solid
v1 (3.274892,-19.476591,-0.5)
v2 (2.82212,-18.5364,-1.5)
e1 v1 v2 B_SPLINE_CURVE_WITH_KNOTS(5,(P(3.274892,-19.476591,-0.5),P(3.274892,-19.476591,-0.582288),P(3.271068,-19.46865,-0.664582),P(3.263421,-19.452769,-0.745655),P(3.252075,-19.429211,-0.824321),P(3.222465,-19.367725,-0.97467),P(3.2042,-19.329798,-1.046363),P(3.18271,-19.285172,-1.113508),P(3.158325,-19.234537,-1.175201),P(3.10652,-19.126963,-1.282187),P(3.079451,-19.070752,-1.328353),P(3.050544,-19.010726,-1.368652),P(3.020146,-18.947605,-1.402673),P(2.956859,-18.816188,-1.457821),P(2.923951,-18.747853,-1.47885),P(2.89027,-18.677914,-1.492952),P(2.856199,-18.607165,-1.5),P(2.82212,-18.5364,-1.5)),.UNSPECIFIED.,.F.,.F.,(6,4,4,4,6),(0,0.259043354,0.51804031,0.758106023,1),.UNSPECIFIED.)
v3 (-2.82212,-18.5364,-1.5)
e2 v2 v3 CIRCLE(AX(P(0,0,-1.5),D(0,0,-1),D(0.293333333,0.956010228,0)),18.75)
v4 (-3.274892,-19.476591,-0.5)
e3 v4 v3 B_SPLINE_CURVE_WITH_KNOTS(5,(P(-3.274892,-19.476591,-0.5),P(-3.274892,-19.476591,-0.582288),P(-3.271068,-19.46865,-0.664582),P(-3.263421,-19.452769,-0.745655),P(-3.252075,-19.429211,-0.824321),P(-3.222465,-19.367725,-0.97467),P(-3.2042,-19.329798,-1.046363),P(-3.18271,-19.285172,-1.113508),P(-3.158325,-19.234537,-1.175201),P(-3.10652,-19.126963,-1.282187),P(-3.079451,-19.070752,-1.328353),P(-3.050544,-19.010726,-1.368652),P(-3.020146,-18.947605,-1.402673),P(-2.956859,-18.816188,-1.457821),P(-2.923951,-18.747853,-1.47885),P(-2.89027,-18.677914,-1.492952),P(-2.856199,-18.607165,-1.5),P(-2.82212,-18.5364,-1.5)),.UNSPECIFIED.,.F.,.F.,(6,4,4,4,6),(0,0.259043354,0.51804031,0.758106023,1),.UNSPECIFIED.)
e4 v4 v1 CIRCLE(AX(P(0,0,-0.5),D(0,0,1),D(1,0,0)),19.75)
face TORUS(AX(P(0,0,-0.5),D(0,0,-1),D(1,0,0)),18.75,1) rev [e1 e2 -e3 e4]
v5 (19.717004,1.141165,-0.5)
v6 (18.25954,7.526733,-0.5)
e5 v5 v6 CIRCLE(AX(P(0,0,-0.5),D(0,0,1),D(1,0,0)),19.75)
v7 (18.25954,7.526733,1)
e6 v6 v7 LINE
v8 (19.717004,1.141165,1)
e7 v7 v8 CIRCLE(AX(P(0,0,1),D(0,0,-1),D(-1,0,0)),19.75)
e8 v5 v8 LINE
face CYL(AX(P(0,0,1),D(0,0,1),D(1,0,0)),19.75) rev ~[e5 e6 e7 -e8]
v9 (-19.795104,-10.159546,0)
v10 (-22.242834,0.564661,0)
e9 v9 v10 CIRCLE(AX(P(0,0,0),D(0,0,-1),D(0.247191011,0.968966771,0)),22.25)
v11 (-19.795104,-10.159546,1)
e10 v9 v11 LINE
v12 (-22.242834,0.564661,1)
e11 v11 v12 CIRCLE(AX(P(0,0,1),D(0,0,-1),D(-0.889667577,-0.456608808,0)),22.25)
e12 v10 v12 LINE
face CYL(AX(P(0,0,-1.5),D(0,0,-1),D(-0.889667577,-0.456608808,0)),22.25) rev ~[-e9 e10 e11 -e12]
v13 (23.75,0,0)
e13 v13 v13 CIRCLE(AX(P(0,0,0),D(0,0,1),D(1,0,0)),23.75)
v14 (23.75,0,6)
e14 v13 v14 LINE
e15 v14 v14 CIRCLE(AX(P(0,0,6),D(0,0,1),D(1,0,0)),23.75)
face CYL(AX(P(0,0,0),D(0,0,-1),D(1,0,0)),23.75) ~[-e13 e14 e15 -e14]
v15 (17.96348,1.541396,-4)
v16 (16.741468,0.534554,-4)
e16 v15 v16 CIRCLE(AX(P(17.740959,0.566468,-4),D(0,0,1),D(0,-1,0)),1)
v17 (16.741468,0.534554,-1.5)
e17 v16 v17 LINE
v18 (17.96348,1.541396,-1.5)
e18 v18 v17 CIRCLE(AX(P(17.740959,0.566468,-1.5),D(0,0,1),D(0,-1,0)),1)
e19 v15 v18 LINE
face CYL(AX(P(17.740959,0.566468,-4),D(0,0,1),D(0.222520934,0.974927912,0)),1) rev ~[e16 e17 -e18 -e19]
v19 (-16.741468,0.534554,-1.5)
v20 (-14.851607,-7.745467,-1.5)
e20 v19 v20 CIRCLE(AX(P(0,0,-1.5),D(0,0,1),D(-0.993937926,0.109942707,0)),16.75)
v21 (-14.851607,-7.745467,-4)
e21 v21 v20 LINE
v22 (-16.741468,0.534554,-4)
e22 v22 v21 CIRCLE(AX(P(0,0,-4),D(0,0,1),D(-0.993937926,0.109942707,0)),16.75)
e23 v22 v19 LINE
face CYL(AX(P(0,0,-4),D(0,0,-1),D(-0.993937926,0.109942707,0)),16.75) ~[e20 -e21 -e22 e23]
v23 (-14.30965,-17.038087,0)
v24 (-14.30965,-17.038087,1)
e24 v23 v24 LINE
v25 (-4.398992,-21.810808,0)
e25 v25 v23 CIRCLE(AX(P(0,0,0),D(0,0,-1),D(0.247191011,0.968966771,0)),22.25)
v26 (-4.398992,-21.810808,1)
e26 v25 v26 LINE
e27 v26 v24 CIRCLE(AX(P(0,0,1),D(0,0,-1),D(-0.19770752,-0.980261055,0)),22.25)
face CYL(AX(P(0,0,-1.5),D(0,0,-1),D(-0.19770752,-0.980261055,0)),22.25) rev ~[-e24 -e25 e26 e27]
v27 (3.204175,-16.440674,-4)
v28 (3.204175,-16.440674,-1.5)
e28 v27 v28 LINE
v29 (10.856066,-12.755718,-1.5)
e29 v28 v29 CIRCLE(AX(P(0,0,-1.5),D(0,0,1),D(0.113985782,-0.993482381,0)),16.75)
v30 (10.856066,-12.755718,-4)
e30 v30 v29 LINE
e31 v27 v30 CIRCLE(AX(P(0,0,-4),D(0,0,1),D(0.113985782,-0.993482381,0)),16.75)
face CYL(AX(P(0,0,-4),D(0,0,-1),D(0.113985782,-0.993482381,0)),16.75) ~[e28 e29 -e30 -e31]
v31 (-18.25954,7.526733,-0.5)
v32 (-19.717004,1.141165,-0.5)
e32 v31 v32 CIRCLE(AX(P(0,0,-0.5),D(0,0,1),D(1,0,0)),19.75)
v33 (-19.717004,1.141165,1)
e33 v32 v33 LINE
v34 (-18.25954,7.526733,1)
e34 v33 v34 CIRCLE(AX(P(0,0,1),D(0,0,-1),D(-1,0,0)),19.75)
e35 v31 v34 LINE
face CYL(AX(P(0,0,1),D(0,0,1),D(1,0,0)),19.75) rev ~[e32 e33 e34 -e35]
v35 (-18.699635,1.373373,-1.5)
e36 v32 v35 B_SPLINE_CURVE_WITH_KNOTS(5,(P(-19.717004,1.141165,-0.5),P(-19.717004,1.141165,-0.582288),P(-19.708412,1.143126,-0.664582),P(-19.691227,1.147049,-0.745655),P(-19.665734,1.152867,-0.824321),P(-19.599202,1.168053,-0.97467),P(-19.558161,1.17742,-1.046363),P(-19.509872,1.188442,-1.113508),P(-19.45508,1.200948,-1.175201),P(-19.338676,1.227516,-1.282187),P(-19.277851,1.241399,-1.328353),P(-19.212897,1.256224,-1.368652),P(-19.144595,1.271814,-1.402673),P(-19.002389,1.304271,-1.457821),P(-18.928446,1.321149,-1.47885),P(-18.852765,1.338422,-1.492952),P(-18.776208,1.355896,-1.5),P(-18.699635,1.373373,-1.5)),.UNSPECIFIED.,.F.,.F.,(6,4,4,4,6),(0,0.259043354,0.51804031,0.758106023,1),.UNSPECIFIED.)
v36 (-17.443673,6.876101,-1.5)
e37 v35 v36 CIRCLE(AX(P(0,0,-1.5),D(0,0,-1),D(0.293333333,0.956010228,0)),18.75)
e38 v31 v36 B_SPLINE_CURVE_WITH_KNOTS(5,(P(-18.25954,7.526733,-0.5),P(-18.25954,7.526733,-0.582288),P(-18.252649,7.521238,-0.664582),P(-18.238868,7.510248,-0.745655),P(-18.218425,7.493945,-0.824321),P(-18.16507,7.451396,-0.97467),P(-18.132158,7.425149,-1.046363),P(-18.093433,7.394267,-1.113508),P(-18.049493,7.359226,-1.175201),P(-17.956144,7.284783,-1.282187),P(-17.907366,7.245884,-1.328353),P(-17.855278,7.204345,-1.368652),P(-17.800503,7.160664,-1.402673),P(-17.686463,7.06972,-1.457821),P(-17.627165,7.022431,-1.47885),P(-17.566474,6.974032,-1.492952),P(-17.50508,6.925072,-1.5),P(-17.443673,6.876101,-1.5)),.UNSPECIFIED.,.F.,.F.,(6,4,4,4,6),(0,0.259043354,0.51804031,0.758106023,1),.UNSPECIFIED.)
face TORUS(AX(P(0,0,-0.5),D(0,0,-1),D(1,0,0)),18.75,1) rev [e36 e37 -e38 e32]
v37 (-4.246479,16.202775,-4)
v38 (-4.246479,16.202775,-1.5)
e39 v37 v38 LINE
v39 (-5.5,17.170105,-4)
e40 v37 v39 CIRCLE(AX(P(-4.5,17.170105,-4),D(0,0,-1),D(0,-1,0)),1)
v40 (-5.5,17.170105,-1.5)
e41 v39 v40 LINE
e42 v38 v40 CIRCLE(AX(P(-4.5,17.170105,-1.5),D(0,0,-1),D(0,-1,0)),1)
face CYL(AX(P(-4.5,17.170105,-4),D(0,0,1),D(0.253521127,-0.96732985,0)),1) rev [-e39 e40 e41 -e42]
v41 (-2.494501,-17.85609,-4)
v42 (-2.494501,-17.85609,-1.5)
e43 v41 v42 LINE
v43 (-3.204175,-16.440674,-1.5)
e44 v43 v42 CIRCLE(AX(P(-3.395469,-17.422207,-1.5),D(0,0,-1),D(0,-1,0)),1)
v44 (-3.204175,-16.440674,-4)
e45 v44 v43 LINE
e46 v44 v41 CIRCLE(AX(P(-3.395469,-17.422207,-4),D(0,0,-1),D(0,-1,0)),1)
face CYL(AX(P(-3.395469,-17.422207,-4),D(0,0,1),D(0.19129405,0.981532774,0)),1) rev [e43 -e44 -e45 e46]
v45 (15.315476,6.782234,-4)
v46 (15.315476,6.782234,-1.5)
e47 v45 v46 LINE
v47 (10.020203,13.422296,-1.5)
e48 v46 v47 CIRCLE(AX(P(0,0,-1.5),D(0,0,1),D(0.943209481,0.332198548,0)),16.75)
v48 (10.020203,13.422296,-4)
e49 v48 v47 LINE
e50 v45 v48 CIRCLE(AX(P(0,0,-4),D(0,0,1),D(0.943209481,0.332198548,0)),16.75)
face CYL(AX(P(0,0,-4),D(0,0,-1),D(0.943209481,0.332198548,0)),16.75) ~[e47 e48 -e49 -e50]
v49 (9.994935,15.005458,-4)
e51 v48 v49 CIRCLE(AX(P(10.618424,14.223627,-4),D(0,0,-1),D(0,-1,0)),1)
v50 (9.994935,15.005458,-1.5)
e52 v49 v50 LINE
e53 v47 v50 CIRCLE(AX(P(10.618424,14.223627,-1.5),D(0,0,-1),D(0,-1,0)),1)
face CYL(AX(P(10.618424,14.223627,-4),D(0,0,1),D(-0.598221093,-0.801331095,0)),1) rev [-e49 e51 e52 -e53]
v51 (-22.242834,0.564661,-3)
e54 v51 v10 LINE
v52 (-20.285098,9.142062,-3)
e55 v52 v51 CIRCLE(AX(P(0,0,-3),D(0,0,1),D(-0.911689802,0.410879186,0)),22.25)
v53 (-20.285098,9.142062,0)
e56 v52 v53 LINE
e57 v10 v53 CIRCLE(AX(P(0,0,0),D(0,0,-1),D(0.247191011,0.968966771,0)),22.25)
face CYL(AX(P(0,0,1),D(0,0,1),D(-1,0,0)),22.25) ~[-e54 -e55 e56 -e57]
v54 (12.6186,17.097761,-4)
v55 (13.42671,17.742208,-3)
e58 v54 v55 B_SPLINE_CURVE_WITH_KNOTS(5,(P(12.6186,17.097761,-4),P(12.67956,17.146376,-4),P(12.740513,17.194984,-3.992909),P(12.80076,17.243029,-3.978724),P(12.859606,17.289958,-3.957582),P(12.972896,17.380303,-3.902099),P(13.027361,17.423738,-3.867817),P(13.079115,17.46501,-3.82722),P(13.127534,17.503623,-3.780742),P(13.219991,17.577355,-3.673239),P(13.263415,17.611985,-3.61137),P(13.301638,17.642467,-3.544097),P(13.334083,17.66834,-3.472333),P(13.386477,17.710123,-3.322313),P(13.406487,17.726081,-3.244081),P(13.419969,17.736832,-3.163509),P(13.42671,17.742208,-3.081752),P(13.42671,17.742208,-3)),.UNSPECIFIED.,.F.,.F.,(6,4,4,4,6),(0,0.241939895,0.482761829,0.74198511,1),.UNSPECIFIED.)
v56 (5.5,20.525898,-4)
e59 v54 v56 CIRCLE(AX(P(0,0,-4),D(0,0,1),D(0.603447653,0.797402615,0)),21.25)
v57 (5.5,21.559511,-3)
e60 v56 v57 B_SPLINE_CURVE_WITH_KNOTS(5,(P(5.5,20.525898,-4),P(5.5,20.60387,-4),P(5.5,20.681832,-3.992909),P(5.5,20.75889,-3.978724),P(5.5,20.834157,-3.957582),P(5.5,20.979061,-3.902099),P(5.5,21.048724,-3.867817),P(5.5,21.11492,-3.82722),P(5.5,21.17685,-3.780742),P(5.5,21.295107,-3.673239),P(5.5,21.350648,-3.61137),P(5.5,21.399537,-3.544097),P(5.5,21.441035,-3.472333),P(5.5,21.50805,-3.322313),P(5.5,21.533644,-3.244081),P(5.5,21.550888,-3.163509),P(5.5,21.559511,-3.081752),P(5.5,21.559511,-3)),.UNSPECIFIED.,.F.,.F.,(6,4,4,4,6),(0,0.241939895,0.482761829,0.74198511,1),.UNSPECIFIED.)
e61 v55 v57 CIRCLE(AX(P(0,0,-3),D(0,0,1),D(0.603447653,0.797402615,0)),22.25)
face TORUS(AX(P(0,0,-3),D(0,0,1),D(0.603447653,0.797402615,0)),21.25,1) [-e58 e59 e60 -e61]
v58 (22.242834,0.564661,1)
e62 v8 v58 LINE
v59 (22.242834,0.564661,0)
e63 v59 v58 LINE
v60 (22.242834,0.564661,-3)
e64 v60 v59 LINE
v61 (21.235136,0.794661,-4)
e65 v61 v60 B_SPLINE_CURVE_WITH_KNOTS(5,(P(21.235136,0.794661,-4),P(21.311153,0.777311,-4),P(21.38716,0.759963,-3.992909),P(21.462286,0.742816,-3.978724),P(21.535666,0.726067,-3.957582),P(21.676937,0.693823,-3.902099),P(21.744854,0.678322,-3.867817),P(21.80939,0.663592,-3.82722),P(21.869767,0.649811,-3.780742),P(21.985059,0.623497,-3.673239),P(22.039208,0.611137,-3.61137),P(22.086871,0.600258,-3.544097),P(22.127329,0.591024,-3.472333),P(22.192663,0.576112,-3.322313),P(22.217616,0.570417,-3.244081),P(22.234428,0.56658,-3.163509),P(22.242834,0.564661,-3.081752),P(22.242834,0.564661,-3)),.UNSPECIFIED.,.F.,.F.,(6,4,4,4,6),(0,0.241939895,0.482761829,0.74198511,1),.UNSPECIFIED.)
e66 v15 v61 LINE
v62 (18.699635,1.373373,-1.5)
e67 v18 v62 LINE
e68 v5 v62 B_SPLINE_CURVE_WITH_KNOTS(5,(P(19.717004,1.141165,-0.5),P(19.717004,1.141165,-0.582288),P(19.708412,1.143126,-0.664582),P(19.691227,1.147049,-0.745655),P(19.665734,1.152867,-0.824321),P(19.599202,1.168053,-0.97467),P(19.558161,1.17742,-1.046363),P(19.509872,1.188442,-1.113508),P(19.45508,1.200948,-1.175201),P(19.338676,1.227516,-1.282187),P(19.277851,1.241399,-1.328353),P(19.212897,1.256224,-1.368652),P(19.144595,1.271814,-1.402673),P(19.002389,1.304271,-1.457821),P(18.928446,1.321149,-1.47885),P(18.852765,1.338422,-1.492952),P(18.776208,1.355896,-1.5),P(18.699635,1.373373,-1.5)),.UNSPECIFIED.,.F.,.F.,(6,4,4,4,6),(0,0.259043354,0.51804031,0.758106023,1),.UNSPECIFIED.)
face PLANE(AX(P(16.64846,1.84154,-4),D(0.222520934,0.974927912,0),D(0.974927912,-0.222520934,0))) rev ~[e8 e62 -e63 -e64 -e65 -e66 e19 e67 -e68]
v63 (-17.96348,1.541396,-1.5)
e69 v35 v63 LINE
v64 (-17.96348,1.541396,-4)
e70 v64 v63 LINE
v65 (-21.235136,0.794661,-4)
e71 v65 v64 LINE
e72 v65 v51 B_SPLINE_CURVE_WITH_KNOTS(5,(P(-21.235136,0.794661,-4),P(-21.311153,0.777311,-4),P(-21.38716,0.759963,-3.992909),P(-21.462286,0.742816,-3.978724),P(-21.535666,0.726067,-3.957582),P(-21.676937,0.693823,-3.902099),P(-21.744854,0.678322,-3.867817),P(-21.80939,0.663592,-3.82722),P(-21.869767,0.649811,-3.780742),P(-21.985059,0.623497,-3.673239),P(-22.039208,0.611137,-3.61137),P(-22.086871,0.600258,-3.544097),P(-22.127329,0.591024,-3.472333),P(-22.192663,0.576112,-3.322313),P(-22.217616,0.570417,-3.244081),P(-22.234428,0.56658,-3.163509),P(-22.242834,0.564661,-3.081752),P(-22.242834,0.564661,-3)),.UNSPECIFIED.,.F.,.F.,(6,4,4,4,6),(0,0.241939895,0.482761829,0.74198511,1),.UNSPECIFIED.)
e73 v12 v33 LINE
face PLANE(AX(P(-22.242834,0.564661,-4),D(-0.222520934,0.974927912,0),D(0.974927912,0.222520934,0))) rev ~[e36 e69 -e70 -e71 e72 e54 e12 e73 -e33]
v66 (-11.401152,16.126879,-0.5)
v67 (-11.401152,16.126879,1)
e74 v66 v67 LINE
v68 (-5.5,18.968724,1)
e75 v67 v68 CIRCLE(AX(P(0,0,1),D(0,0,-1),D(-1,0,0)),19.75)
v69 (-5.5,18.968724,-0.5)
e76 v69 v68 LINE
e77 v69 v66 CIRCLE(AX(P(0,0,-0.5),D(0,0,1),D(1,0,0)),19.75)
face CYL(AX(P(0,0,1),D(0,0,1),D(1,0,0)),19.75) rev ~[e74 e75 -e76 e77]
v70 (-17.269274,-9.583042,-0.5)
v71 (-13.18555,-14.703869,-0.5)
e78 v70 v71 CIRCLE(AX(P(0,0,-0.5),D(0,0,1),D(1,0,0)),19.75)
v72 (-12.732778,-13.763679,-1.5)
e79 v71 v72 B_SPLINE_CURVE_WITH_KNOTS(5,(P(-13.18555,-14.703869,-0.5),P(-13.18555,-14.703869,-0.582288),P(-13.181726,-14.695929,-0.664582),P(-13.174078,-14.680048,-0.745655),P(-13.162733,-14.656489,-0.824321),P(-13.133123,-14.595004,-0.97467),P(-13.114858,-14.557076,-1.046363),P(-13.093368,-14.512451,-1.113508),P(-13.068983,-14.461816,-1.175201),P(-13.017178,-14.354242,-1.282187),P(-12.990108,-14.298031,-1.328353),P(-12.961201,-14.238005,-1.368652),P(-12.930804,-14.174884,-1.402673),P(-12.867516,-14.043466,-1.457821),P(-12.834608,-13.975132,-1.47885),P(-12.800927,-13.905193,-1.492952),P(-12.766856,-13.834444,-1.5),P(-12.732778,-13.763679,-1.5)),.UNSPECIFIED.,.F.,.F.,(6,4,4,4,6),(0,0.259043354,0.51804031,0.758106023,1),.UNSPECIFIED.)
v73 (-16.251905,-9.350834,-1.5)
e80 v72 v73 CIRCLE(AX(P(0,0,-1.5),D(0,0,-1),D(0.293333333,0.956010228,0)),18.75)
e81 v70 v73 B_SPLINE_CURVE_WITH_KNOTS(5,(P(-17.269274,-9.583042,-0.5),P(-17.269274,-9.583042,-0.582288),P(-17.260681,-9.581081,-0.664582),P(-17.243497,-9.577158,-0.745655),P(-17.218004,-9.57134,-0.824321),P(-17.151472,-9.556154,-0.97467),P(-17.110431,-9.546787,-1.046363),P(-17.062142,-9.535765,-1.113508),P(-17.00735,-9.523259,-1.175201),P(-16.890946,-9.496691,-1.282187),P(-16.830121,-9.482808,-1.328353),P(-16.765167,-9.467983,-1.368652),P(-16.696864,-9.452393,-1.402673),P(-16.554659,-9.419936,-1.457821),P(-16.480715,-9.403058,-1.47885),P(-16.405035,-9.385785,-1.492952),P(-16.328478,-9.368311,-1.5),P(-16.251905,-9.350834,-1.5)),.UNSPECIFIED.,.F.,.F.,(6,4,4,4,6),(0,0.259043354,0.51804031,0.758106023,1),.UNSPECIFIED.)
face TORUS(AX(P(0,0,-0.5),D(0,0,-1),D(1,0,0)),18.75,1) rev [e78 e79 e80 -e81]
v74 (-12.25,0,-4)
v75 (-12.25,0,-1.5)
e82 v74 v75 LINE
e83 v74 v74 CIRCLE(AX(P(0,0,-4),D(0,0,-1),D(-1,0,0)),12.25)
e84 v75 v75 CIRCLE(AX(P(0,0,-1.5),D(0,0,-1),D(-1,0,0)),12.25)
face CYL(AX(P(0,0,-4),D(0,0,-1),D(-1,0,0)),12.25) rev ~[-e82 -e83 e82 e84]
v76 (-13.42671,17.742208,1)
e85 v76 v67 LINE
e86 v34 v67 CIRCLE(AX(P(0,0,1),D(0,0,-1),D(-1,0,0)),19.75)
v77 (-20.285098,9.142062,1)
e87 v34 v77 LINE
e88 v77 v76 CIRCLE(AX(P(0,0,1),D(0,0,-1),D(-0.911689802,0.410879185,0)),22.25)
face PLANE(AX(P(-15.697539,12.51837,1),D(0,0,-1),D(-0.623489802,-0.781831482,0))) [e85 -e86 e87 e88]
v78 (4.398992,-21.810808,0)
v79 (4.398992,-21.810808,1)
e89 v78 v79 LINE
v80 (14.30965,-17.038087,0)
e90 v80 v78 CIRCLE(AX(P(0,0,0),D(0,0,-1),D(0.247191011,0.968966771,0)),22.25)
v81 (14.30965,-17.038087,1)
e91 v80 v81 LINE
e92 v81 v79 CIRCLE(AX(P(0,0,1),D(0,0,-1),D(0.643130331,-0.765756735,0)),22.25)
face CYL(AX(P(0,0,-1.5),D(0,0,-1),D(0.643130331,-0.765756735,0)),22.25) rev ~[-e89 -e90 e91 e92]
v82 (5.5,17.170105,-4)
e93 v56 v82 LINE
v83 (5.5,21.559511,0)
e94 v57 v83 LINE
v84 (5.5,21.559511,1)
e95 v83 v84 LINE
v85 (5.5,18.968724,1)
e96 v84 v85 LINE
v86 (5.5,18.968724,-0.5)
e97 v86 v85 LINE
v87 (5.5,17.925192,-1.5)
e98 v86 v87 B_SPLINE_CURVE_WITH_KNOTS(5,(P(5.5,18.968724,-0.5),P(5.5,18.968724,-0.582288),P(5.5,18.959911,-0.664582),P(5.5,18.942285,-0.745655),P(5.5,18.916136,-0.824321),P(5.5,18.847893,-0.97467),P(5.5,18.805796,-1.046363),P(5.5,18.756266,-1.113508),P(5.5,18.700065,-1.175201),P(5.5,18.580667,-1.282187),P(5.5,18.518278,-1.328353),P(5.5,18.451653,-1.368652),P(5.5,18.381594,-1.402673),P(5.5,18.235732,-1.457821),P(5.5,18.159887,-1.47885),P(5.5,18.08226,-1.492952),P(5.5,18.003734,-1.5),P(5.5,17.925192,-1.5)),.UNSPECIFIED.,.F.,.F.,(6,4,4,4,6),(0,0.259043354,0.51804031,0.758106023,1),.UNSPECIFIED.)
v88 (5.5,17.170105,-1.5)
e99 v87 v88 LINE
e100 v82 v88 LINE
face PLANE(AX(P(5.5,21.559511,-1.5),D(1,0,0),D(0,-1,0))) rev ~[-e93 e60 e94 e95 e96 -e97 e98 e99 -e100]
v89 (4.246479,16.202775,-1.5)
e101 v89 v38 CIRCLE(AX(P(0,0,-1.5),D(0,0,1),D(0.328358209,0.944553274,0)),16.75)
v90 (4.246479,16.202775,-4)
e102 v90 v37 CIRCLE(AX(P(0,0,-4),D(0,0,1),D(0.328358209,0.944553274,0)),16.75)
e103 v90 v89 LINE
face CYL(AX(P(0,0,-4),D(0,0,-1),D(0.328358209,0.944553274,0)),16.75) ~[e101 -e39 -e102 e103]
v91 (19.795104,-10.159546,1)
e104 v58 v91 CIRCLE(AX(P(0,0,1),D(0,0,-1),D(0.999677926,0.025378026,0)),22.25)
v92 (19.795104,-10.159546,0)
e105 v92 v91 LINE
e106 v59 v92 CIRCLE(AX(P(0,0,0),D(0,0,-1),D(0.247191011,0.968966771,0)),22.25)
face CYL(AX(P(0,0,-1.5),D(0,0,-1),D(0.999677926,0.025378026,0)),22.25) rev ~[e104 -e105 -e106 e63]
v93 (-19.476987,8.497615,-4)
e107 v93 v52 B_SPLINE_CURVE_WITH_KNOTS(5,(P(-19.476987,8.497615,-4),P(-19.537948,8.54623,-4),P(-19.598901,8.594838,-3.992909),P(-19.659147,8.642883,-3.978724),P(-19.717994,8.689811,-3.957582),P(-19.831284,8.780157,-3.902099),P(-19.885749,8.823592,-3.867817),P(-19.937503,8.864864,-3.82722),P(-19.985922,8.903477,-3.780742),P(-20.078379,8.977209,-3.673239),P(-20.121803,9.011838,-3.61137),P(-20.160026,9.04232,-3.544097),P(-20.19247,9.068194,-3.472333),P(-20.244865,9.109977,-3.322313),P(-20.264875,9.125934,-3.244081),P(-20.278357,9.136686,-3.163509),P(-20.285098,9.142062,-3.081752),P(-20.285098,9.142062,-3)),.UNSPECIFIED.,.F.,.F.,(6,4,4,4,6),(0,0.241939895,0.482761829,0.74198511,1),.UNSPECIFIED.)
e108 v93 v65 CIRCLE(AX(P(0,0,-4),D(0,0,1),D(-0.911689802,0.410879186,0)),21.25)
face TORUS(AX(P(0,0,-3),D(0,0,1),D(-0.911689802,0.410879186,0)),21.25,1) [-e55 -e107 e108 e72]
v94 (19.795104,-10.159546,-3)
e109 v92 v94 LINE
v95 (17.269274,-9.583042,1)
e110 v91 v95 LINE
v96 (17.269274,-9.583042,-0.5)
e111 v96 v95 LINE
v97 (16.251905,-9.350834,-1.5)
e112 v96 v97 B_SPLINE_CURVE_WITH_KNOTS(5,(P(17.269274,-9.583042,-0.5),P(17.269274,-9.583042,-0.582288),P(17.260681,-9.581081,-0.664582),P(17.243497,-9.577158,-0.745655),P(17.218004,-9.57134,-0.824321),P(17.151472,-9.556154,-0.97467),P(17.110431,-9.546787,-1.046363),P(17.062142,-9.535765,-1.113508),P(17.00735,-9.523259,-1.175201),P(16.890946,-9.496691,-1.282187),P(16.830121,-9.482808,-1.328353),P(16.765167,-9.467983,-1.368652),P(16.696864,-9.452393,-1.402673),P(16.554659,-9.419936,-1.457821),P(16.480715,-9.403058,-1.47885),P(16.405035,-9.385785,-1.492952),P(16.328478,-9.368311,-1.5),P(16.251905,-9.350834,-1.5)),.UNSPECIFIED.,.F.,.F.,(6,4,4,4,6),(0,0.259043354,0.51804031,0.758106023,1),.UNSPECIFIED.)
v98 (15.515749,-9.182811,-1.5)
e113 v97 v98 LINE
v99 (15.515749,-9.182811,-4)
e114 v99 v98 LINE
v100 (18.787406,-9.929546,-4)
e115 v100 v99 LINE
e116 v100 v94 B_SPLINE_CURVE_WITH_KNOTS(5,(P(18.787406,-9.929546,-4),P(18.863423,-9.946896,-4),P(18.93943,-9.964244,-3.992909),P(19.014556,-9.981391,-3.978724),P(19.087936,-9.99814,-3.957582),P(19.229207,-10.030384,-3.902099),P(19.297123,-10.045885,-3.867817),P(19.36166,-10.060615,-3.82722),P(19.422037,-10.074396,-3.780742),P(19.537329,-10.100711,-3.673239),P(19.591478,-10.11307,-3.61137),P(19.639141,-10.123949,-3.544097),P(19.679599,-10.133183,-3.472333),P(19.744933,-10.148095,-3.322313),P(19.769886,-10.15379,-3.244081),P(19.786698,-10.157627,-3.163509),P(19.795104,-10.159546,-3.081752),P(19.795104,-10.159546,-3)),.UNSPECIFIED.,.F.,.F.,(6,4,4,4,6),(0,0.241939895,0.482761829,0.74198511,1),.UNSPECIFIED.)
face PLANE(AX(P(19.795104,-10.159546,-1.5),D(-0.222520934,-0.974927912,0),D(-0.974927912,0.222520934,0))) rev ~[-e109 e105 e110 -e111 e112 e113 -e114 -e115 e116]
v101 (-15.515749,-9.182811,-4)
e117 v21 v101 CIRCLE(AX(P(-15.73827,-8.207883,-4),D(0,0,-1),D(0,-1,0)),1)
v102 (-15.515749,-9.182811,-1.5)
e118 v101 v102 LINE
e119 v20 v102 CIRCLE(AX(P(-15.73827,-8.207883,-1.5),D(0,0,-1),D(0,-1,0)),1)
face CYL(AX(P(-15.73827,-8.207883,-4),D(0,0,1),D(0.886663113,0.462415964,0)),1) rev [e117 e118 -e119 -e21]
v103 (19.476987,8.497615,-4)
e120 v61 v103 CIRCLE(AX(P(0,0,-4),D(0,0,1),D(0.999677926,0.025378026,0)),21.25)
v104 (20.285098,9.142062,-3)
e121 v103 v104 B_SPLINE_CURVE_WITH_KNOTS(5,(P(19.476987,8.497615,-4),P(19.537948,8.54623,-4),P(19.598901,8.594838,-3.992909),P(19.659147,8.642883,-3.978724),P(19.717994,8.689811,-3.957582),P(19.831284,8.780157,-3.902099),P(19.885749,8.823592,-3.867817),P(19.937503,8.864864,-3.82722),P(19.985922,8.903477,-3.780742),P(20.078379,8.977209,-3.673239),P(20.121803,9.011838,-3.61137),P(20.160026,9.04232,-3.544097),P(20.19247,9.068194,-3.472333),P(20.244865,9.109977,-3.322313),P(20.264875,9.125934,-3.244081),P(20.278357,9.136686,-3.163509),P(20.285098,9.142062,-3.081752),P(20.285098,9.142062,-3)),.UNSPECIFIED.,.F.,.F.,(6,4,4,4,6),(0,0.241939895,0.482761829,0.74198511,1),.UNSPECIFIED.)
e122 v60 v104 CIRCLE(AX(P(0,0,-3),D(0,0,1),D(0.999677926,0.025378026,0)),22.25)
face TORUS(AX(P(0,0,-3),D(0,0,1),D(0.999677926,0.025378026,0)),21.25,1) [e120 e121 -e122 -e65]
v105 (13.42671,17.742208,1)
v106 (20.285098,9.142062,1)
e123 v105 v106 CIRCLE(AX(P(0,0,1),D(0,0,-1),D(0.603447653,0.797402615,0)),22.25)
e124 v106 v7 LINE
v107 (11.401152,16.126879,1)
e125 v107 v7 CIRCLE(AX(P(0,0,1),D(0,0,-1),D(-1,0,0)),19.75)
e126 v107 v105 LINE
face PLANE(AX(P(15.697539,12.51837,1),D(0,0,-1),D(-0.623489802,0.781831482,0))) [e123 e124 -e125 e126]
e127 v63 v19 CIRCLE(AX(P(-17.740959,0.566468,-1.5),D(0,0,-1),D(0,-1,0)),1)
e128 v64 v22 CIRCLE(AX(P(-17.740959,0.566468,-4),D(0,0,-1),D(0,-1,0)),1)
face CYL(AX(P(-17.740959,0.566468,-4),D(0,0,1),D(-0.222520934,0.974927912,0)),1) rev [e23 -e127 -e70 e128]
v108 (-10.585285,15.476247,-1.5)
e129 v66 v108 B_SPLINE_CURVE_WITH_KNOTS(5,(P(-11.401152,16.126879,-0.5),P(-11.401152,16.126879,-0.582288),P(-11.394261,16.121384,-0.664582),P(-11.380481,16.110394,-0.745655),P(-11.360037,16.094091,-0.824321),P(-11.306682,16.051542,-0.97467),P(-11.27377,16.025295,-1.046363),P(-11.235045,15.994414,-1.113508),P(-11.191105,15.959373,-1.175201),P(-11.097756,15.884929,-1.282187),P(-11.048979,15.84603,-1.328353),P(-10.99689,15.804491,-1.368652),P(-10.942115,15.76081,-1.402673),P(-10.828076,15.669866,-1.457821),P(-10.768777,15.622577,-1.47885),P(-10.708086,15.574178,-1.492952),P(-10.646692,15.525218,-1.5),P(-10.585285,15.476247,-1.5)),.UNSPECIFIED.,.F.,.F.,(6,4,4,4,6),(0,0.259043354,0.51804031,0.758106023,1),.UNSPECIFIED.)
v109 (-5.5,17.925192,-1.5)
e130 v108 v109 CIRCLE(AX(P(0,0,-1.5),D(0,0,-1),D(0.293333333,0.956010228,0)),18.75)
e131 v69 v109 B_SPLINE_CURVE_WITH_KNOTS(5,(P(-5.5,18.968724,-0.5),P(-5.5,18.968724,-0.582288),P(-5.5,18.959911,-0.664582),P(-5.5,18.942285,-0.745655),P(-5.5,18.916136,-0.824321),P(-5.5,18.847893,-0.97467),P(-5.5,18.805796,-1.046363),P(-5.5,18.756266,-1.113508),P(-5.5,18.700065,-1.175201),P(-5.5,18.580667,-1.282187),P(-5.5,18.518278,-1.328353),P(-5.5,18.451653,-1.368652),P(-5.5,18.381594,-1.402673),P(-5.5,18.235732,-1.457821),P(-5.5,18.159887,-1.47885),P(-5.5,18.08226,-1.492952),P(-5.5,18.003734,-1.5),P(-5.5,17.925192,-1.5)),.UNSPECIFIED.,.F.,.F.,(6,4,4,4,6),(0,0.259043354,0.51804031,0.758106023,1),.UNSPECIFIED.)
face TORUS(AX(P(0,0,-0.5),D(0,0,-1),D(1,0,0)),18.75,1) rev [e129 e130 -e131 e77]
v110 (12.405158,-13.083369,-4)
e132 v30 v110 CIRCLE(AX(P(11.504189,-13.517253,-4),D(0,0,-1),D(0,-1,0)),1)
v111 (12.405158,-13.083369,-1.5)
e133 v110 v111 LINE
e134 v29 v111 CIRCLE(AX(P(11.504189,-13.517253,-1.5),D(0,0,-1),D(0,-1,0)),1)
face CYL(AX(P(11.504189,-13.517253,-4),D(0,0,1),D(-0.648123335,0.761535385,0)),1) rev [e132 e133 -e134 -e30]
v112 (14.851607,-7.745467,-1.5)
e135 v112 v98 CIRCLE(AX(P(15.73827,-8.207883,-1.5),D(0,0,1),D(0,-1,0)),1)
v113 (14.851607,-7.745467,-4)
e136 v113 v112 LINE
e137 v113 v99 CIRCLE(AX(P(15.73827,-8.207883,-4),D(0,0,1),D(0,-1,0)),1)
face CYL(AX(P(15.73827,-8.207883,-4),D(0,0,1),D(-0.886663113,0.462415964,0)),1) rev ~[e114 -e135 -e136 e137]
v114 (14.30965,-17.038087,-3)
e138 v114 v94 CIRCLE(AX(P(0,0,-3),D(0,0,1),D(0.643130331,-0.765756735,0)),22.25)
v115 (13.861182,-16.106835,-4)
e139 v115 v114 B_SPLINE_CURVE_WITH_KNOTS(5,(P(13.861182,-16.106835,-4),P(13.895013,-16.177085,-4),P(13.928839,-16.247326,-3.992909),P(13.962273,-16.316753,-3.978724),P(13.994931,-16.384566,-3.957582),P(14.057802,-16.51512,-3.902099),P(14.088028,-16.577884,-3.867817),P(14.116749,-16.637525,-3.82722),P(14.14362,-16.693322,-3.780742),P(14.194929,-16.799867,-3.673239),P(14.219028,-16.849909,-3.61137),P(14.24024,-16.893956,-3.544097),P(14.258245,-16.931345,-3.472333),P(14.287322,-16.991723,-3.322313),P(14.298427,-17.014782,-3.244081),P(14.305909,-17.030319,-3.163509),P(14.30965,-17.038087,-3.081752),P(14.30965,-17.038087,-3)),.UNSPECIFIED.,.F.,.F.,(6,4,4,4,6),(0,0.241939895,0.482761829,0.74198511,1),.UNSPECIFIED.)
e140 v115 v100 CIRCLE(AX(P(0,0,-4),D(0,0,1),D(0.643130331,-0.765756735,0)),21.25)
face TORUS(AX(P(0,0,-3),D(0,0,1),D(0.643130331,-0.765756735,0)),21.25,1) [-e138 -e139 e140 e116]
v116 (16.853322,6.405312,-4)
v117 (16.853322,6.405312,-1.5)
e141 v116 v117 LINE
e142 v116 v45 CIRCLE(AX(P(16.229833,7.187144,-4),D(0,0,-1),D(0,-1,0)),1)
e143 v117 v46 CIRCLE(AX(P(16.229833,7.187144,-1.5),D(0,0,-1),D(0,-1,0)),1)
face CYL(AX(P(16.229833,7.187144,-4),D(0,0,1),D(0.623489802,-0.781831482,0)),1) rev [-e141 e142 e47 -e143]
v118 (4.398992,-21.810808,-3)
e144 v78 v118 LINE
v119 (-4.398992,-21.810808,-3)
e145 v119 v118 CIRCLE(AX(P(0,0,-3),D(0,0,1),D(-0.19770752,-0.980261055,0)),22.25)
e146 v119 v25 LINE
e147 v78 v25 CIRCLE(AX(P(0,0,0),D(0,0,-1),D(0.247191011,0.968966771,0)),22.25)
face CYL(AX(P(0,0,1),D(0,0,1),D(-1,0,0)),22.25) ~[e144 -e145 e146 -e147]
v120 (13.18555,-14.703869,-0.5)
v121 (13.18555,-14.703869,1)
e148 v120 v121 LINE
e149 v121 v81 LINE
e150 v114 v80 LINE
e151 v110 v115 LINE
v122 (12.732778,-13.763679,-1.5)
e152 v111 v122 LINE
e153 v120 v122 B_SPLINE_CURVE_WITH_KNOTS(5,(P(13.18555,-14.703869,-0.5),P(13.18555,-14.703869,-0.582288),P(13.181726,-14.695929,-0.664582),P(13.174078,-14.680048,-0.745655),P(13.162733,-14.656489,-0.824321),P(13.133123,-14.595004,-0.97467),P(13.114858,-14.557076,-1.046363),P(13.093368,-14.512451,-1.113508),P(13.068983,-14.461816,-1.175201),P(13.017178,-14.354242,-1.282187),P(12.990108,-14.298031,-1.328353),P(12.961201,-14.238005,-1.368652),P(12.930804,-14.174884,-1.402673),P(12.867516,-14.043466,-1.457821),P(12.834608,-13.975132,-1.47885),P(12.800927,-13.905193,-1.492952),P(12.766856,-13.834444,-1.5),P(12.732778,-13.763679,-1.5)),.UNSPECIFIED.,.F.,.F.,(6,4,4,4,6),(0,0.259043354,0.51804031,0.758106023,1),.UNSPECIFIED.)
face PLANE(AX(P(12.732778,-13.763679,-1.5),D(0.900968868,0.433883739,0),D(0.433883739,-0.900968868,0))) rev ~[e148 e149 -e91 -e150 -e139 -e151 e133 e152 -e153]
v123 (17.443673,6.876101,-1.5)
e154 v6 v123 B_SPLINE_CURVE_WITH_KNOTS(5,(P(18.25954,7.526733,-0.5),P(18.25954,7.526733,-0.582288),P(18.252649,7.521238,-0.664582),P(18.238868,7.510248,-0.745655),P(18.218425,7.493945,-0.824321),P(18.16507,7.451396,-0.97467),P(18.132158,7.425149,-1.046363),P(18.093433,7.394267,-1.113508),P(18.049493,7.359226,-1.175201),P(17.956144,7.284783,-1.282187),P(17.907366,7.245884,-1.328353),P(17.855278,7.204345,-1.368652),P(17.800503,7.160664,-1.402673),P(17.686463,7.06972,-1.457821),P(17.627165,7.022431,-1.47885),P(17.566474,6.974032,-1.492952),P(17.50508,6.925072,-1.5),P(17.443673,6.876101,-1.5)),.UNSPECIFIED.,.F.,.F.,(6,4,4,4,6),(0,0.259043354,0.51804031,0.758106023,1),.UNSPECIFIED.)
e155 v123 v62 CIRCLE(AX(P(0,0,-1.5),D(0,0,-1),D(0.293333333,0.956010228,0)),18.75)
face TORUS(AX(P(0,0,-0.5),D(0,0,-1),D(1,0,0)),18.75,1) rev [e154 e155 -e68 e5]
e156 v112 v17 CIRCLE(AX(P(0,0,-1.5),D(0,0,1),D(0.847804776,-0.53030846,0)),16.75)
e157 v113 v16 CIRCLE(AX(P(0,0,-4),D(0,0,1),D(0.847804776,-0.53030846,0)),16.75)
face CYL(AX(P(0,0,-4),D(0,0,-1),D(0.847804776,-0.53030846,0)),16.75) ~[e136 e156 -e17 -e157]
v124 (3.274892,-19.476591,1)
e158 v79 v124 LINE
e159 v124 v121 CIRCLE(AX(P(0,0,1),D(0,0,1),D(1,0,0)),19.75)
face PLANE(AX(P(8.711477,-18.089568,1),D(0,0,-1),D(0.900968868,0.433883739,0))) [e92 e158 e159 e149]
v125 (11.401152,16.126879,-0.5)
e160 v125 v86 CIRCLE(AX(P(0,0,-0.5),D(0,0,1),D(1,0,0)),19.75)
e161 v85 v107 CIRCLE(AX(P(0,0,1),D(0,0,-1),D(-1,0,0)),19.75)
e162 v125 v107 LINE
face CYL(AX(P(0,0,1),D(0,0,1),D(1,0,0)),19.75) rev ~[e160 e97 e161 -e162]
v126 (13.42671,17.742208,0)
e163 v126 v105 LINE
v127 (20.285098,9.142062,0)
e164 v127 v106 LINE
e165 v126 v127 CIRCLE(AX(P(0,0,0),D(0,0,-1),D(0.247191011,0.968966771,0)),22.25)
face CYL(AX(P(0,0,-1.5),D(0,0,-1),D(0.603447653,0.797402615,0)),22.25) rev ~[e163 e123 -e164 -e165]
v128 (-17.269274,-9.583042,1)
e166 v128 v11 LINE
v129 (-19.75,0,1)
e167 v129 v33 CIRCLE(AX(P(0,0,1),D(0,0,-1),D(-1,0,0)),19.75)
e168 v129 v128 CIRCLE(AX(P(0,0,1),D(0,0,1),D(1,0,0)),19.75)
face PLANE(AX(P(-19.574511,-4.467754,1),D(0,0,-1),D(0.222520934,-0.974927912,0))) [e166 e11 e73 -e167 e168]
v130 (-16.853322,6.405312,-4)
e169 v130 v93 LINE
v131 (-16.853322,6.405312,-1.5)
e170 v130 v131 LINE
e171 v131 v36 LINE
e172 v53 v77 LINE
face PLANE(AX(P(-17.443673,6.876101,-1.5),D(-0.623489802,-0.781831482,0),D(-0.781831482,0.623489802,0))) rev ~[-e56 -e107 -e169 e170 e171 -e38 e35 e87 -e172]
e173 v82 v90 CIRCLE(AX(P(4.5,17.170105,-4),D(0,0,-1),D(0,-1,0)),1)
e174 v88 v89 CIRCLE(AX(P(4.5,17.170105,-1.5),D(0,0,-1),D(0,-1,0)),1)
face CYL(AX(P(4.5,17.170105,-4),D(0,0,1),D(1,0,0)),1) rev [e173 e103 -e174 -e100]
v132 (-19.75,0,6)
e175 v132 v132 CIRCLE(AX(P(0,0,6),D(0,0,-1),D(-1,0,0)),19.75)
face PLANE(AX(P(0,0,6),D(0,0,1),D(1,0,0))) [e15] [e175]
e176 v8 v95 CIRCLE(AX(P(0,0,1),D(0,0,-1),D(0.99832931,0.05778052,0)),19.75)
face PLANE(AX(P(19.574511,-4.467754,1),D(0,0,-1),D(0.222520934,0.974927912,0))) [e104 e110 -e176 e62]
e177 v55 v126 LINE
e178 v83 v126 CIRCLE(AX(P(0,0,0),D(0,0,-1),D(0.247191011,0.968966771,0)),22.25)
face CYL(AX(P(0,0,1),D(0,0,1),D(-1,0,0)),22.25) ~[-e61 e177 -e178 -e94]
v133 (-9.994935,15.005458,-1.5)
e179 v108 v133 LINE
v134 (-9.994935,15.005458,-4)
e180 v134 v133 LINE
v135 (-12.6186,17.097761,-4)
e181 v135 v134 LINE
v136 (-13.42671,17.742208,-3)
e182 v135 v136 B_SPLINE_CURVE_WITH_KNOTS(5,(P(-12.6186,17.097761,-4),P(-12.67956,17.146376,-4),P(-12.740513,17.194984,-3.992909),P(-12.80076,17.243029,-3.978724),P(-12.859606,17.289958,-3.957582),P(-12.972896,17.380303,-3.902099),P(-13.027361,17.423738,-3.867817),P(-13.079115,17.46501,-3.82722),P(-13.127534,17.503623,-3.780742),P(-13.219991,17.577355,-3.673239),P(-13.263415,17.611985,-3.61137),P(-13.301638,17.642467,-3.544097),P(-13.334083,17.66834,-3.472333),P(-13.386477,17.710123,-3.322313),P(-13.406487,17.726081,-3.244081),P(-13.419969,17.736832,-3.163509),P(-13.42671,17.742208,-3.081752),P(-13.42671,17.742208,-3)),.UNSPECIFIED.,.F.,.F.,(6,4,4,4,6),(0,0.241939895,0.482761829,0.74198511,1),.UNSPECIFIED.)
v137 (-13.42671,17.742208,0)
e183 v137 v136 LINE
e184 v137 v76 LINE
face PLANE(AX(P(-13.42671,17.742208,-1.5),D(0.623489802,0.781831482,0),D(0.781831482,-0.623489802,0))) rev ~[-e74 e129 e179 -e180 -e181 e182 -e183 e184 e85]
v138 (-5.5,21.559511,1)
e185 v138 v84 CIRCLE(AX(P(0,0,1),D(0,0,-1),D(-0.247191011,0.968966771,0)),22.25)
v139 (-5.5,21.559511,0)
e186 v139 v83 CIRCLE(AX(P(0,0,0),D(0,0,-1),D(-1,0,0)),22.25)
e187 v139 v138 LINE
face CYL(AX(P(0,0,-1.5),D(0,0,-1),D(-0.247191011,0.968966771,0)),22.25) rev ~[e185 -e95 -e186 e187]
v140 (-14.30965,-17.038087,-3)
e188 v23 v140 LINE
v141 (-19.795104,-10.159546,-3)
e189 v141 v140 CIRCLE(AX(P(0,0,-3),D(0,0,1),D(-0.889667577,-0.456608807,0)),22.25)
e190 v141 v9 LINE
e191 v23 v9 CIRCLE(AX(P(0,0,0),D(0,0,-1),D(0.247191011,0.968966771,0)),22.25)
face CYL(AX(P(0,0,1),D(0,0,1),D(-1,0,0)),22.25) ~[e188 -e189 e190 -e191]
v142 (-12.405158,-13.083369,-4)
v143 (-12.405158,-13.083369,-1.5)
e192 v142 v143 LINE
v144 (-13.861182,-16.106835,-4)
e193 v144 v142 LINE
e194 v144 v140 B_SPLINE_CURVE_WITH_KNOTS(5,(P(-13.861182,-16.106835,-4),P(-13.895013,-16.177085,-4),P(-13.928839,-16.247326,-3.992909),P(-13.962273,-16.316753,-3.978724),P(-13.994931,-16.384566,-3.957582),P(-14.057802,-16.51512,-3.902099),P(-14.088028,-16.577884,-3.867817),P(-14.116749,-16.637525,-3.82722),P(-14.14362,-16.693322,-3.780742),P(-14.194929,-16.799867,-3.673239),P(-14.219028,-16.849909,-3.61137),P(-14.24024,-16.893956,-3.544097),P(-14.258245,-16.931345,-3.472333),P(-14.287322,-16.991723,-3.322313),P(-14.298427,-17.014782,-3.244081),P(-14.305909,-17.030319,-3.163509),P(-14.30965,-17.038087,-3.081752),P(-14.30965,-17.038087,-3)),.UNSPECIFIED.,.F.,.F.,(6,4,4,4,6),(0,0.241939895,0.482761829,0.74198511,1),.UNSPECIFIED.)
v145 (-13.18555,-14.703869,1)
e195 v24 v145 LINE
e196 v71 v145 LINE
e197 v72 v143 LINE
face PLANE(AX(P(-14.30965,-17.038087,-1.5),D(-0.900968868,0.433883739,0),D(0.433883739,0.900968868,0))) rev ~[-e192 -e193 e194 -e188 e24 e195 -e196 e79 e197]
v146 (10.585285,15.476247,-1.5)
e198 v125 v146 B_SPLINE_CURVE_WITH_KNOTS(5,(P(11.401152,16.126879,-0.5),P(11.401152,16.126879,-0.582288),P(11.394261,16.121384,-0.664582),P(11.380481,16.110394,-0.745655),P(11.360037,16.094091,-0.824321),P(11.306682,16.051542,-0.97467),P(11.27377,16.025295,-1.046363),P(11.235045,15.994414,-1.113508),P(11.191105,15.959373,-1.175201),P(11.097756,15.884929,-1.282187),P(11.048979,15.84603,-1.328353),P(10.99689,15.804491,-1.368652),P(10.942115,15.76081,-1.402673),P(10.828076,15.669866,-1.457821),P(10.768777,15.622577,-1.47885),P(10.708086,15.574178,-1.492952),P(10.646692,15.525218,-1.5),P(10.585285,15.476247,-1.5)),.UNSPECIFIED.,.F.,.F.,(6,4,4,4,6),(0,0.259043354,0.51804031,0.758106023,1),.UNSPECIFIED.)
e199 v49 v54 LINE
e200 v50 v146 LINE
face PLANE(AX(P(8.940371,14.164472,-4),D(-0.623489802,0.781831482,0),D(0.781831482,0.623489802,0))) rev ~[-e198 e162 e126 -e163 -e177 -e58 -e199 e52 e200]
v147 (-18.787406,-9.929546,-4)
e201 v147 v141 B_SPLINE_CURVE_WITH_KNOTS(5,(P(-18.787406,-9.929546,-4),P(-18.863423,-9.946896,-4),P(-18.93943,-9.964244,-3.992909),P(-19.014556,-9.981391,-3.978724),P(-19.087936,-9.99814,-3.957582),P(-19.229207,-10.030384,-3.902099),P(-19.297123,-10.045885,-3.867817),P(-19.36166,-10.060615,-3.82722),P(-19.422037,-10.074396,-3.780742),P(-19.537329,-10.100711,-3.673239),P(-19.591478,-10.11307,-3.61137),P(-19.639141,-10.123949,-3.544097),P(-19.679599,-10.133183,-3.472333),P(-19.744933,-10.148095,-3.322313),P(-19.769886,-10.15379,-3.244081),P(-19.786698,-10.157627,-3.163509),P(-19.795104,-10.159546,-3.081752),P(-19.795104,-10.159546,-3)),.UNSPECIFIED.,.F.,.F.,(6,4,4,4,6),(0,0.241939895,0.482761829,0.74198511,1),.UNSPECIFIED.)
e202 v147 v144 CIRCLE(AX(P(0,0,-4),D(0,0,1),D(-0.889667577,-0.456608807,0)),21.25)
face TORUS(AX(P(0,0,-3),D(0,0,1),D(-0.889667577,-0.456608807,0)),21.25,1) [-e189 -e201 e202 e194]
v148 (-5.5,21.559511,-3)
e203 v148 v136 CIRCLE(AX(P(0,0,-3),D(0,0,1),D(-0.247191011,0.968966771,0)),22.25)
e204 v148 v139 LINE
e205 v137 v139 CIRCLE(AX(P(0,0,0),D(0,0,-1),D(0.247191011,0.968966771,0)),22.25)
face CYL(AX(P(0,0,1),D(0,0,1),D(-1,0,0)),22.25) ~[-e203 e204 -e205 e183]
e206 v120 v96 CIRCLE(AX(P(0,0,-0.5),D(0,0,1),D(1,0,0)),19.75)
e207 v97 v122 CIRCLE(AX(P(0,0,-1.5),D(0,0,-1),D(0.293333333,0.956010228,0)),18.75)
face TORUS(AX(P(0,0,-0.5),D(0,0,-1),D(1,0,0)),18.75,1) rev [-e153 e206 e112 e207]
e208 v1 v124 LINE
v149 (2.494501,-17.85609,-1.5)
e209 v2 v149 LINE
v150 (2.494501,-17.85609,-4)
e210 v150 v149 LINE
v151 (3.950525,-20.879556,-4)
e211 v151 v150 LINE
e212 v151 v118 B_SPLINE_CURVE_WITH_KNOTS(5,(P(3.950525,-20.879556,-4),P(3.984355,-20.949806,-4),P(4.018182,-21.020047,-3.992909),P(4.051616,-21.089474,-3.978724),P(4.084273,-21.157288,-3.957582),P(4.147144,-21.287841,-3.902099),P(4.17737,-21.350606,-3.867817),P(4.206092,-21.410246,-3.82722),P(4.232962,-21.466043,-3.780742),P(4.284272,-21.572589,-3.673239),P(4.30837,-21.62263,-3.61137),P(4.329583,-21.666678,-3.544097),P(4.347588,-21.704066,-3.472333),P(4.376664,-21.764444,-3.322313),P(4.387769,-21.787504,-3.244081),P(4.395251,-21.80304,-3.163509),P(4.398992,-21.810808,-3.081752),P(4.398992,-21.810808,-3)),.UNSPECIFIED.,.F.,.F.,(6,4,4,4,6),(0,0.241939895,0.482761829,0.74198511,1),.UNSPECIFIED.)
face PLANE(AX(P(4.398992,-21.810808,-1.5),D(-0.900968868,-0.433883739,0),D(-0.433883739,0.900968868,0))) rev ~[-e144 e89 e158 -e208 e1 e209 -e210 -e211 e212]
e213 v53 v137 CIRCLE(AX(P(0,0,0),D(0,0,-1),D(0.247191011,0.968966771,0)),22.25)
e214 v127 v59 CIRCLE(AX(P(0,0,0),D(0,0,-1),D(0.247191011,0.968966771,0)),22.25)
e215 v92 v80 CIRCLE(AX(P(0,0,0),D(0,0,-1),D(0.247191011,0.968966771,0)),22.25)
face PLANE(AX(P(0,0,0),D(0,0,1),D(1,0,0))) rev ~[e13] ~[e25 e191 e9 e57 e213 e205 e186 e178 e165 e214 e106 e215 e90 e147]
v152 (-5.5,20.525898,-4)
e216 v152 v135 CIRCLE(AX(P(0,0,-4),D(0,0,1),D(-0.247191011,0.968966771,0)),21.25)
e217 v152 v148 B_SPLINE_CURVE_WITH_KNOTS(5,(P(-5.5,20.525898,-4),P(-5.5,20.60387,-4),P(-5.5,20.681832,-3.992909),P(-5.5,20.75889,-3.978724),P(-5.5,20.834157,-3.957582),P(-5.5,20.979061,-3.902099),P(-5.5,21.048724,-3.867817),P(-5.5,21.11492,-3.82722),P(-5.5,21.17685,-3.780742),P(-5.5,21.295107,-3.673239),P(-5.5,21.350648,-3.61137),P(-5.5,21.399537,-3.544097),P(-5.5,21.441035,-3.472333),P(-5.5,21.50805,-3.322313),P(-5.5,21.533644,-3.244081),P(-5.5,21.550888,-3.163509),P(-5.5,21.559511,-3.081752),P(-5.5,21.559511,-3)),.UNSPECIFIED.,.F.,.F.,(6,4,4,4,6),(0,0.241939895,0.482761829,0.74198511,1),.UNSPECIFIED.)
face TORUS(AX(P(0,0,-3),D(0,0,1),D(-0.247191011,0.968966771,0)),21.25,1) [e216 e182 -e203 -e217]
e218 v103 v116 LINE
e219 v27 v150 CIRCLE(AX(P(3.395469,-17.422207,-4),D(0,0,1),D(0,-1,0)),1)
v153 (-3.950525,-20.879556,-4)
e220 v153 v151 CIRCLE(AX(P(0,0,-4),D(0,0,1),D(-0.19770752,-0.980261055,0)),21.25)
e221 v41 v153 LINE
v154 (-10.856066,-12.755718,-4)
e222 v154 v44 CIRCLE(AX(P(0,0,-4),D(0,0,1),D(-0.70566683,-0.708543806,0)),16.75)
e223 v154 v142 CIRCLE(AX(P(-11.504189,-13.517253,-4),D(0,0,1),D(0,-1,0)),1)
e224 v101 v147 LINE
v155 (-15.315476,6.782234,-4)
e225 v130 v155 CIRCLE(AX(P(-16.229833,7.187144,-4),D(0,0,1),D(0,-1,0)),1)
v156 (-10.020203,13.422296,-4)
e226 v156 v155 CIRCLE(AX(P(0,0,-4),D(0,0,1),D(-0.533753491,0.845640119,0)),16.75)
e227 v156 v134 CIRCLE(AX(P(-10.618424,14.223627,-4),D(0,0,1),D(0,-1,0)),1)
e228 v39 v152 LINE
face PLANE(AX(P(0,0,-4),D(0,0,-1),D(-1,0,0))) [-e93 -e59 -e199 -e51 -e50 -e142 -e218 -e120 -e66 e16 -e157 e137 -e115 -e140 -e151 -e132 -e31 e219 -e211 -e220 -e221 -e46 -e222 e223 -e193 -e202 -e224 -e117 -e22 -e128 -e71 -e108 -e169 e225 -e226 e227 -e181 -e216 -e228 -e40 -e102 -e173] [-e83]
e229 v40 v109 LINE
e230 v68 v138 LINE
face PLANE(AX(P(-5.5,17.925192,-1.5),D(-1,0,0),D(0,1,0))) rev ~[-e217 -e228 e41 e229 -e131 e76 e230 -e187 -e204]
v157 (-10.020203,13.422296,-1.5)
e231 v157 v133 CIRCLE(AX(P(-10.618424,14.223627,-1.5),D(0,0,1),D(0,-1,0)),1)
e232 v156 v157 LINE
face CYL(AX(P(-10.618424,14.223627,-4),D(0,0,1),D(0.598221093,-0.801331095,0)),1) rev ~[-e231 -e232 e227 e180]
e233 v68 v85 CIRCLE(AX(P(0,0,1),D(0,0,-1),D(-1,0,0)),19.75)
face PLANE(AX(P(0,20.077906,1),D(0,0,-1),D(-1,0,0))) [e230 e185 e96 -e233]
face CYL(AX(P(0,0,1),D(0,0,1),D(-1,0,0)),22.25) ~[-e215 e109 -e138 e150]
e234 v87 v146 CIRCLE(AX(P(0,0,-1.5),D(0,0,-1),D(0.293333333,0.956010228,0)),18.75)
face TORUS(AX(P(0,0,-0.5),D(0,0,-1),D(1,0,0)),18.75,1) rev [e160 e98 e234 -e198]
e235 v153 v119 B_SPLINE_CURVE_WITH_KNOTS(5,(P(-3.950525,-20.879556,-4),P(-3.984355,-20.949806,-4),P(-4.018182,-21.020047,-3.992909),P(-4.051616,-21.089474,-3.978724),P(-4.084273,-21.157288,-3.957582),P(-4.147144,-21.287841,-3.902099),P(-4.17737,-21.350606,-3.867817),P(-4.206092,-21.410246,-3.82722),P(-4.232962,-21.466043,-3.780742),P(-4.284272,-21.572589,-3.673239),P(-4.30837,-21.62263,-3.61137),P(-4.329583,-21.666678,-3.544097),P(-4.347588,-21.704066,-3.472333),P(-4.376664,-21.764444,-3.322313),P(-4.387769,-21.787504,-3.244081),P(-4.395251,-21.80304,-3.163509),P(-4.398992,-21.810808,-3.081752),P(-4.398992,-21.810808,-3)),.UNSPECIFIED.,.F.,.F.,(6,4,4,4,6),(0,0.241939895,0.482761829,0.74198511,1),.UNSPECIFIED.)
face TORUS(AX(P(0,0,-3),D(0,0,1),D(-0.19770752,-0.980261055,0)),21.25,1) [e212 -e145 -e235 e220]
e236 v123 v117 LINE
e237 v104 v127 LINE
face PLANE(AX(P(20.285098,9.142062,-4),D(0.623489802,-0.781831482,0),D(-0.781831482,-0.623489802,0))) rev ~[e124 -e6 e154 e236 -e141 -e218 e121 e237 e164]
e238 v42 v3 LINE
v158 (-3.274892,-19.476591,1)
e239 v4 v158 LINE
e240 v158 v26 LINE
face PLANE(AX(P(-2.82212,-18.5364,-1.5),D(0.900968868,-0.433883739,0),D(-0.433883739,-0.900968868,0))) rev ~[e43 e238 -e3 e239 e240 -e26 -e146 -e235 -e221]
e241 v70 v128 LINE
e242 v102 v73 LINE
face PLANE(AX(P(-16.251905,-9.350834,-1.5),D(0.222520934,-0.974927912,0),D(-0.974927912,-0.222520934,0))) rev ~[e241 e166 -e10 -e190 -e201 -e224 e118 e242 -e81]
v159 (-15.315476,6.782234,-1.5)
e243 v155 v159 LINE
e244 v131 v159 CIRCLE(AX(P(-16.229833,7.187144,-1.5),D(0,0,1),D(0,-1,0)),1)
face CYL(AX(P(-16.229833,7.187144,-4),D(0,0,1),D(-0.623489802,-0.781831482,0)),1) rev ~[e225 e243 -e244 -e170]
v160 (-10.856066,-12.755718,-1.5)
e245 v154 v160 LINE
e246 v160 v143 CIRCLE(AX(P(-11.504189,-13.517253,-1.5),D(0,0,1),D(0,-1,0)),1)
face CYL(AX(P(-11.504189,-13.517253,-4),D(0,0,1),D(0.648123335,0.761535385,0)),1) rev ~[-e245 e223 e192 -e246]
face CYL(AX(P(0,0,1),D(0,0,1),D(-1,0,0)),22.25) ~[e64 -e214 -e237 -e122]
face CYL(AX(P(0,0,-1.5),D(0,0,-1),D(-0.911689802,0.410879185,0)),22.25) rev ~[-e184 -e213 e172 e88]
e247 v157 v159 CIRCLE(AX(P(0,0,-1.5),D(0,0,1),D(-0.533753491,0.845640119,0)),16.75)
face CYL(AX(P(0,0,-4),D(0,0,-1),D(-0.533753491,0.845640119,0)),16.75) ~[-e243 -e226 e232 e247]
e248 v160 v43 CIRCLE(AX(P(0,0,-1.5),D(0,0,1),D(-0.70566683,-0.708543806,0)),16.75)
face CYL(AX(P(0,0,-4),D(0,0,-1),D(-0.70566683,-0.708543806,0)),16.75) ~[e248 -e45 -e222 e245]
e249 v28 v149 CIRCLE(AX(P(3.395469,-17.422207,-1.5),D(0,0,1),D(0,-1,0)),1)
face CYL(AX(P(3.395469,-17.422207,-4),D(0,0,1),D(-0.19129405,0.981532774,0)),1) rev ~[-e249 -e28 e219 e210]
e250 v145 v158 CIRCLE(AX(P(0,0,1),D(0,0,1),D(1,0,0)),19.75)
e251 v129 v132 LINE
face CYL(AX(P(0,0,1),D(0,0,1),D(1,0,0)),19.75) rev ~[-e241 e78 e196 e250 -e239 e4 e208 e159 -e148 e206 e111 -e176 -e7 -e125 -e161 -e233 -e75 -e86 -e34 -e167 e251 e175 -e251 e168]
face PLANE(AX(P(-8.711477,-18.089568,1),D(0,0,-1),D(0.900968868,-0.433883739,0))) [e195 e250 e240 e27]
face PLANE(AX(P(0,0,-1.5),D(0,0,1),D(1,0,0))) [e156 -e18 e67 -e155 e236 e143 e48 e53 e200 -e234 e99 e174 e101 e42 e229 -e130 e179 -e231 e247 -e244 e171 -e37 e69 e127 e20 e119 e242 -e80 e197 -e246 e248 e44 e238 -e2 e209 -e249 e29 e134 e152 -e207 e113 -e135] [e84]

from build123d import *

# Parameters (mm, degrees)
CROQUIS1_R                 = 23.75
SALIENTE_EXTRUIR1_DEPTH    = 6
CROQUIS4_R                 = 22.25
CORTAR_EXTRUIR1_DEPTH      = 1
CROQUIS5_R                 = 19.75
CORTAR_EXTRUIR2_DEPTH      = 2
CORTAR_EXTRUIR2_DEPTH_BACK = 6
CROQUIS6_R                 = 22.25
SALIENTE_EXTRUIR2_DEPTH    = 5
CROQUIS7_R                 = 19.75
CORTAR_EXTRUIR3_DEPTH      = 2.5
REDONDEO1_R                = 1
CORTAR_EXTRUIR4_DEPTH      = 2.5
CORTAR_EXTRUIR5_DEPTH      = 2.5
MATRIZC1_COUNT             = 7
REDONDEO2_R                = 1
REDONDEO3_R                = 1
CROQUIS10_R                = 12.25
CORTAR_EXTRUIR6_DEPTH      = 1.0000001
CORTAR_EXTRUIR6_DEPTH_BACK = 11


with BuildPart() as part:
    # Croquis1 → Saliente-Extruir1 (new body)
    with BuildSketch(Plane.XY):
        Circle(CROQUIS1_R)
    extrude(amount=SALIENTE_EXTRUIR1_DEPTH)

    # Croquis4 → Cortar-Extruir1 (cut)
    with BuildSketch(Plane(origin=(0, 0, 0), x_dir=(-1, 0, 0), z_dir=(0, 0, -1))):
        Circle(CROQUIS4_R)
    extrude(amount=-CORTAR_EXTRUIR1_DEPTH, mode=Mode.SUBTRACT)

    # Croquis5 → Cortar-Extruir2 (cut, two sides)
    with BuildSketch(Plane(origin=(0, 0, 1), x_dir=(-1, 0, 0), z_dir=(0, 0, -1))) as cortar_extruir2_sk:
        Circle(CROQUIS5_R)
    extrude(amount=CORTAR_EXTRUIR2_DEPTH, mode=Mode.SUBTRACT)
    extrude(cortar_extruir2_sk.sketch, amount=-CORTAR_EXTRUIR2_DEPTH_BACK, mode=Mode.SUBTRACT)

    # Croquis6 → Saliente-Extruir2 (add)
    with BuildSketch(Plane(origin=(0, 0, 1), x_dir=(-1, 0, 0), z_dir=(0, 0, -1))):
        Circle(CROQUIS6_R)
    extrude(amount=SALIENTE_EXTRUIR2_DEPTH)

    # Croquis7 → Cortar-Extruir3 (cut)
    with BuildSketch(Plane.XY.offset(1)):
        Circle(CROQUIS7_R)
    extrude(amount=-CORTAR_EXTRUIR3_DEPTH, mode=Mode.SUBTRACT)

    # Redondeo1
    redondeo1_edges = [part.edges().sort_by_distance(p)[0] for p in [
        (-19.75, 0, -1.5),
    ]]
    fillet(redondeo1_edges, radius=REDONDEO1_R)

    # Croquis8 → Cortar-Extruir4 (cut)
    with BuildSketch(Plane(origin=(0, 0, -4), x_dir=(-1, 0, 0), z_dir=(0, 0, -1))):
        with BuildLine():
            Line((-5.5, 21.559510662), (-5.5, 15.821267332))
            ThreePointArc((-5.5, 15.821267332), (0, 16.75), (5.5, 15.821267332))
            Line((5.5, 15.821267332), (5.5, 21.559510662))
            ThreePointArc((5.5, 21.559510662), (0, 22.25), (-5.5, 21.559510662))
        make_face()
    cortar_extruir4 = extrude(amount=-CORTAR_EXTRUIR4_DEPTH, mode=Mode.SUBTRACT)

    # Croquis9 → Cortar-Extruir5 (cut)
    with BuildSketch(Plane(origin=(0, 0, -1.5), x_dir=(-1, 0, 0), z_dir=(0, 0, -1))):
        with BuildLine():
            Line((5.5, 17.92519177), (5.5, 21.559510662))
            ThreePointArc((5.5, 21.559510662), (0, 22.25), (-5.5, 21.559510662))
            Line((-5.5, 21.559510662), (-5.5, 17.92519177))
            ThreePointArc((-5.5, 17.92519177), (0, 18.75), (5.5, 17.92519177))
        make_face()
    cortar_extruir5 = extrude(amount=-CORTAR_EXTRUIR5_DEPTH, mode=Mode.SUBTRACT)

    # MatrizC1: Cortar-Extruir4, Cortar-Extruir5 ×7 about axis
    matrizc1_axis = Axis((0, 0, 0), (0, 0, 1))
    for i in range(1, MATRIZC1_COUNT):
        add(cortar_extruir4.rotate(matrizc1_axis, i * 360 / MATRIZC1_COUNT), mode=Mode.SUBTRACT)
        add(cortar_extruir5.rotate(matrizc1_axis, i * 360 / MATRIZC1_COUNT), mode=Mode.SUBTRACT)

    # Redondeo2
    redondeo2_edges = [part.edges().sort_by_distance(p)[0] for p in [
        (-14.200729992, -8.8826667, -2.75),
        (-16.648460265, 1.841540334, -2.75),
        (-1.909261854, -16.640829882, -2.75),
        (-11.819919401, -11.868108752, -2.75),
        (11.819919401, -11.868108752, -2.75),
        (1.909261854, -16.640829882, -2.75),
        (16.648460265, 1.841540334, -2.75),
        (14.200729992, -8.8826667, -2.75),
        (8.940370983, 14.164471988, -2.75),
        (15.798758803, 5.564325681, -2.75),
        (-5.5, 15.821267332, -2.75),
        (5.5, 15.821267332, -2.75),
        (-15.798758803, 5.564325681, -2.75),
        (-8.940370983, 14.164471988, -2.75),
    ]]
    fillet(redondeo2_edges, radius=REDONDEO2_R)

    # Redondeo3
    redondeo3_edges = [part.edges().sort_by_distance(p)[0] for p in [
        (9.653913195, 20.046557311, -4),
        (21.692146046, 4.951090781, -4),
        (17.395750485, -13.872648091, -4),
        (0, -22.25, -4),
        (-17.395750485, -13.872648091, -4),
        (-21.692146046, 4.951090781, -4),
        (-9.653913195, 20.046557311, -4),
    ]]
    fillet(redondeo3_edges, radius=REDONDEO3_R)

    # Croquis10 → Cortar-Extruir6 (cut, two sides)
    with BuildSketch(Plane(origin=(0, 0, -4), x_dir=(-1, 0, 0), z_dir=(0, 0, -1))) as cortar_extruir6_sk:
        Circle(CROQUIS10_R)
    extrude(amount=CORTAR_EXTRUIR6_DEPTH, mode=Mode.SUBTRACT)
    extrude(cortar_extruir6_sk.sketch, amount=-CORTAR_EXTRUIR6_DEPTH_BACK, mode=Mode.SUBTRACT)


solid = part.part
